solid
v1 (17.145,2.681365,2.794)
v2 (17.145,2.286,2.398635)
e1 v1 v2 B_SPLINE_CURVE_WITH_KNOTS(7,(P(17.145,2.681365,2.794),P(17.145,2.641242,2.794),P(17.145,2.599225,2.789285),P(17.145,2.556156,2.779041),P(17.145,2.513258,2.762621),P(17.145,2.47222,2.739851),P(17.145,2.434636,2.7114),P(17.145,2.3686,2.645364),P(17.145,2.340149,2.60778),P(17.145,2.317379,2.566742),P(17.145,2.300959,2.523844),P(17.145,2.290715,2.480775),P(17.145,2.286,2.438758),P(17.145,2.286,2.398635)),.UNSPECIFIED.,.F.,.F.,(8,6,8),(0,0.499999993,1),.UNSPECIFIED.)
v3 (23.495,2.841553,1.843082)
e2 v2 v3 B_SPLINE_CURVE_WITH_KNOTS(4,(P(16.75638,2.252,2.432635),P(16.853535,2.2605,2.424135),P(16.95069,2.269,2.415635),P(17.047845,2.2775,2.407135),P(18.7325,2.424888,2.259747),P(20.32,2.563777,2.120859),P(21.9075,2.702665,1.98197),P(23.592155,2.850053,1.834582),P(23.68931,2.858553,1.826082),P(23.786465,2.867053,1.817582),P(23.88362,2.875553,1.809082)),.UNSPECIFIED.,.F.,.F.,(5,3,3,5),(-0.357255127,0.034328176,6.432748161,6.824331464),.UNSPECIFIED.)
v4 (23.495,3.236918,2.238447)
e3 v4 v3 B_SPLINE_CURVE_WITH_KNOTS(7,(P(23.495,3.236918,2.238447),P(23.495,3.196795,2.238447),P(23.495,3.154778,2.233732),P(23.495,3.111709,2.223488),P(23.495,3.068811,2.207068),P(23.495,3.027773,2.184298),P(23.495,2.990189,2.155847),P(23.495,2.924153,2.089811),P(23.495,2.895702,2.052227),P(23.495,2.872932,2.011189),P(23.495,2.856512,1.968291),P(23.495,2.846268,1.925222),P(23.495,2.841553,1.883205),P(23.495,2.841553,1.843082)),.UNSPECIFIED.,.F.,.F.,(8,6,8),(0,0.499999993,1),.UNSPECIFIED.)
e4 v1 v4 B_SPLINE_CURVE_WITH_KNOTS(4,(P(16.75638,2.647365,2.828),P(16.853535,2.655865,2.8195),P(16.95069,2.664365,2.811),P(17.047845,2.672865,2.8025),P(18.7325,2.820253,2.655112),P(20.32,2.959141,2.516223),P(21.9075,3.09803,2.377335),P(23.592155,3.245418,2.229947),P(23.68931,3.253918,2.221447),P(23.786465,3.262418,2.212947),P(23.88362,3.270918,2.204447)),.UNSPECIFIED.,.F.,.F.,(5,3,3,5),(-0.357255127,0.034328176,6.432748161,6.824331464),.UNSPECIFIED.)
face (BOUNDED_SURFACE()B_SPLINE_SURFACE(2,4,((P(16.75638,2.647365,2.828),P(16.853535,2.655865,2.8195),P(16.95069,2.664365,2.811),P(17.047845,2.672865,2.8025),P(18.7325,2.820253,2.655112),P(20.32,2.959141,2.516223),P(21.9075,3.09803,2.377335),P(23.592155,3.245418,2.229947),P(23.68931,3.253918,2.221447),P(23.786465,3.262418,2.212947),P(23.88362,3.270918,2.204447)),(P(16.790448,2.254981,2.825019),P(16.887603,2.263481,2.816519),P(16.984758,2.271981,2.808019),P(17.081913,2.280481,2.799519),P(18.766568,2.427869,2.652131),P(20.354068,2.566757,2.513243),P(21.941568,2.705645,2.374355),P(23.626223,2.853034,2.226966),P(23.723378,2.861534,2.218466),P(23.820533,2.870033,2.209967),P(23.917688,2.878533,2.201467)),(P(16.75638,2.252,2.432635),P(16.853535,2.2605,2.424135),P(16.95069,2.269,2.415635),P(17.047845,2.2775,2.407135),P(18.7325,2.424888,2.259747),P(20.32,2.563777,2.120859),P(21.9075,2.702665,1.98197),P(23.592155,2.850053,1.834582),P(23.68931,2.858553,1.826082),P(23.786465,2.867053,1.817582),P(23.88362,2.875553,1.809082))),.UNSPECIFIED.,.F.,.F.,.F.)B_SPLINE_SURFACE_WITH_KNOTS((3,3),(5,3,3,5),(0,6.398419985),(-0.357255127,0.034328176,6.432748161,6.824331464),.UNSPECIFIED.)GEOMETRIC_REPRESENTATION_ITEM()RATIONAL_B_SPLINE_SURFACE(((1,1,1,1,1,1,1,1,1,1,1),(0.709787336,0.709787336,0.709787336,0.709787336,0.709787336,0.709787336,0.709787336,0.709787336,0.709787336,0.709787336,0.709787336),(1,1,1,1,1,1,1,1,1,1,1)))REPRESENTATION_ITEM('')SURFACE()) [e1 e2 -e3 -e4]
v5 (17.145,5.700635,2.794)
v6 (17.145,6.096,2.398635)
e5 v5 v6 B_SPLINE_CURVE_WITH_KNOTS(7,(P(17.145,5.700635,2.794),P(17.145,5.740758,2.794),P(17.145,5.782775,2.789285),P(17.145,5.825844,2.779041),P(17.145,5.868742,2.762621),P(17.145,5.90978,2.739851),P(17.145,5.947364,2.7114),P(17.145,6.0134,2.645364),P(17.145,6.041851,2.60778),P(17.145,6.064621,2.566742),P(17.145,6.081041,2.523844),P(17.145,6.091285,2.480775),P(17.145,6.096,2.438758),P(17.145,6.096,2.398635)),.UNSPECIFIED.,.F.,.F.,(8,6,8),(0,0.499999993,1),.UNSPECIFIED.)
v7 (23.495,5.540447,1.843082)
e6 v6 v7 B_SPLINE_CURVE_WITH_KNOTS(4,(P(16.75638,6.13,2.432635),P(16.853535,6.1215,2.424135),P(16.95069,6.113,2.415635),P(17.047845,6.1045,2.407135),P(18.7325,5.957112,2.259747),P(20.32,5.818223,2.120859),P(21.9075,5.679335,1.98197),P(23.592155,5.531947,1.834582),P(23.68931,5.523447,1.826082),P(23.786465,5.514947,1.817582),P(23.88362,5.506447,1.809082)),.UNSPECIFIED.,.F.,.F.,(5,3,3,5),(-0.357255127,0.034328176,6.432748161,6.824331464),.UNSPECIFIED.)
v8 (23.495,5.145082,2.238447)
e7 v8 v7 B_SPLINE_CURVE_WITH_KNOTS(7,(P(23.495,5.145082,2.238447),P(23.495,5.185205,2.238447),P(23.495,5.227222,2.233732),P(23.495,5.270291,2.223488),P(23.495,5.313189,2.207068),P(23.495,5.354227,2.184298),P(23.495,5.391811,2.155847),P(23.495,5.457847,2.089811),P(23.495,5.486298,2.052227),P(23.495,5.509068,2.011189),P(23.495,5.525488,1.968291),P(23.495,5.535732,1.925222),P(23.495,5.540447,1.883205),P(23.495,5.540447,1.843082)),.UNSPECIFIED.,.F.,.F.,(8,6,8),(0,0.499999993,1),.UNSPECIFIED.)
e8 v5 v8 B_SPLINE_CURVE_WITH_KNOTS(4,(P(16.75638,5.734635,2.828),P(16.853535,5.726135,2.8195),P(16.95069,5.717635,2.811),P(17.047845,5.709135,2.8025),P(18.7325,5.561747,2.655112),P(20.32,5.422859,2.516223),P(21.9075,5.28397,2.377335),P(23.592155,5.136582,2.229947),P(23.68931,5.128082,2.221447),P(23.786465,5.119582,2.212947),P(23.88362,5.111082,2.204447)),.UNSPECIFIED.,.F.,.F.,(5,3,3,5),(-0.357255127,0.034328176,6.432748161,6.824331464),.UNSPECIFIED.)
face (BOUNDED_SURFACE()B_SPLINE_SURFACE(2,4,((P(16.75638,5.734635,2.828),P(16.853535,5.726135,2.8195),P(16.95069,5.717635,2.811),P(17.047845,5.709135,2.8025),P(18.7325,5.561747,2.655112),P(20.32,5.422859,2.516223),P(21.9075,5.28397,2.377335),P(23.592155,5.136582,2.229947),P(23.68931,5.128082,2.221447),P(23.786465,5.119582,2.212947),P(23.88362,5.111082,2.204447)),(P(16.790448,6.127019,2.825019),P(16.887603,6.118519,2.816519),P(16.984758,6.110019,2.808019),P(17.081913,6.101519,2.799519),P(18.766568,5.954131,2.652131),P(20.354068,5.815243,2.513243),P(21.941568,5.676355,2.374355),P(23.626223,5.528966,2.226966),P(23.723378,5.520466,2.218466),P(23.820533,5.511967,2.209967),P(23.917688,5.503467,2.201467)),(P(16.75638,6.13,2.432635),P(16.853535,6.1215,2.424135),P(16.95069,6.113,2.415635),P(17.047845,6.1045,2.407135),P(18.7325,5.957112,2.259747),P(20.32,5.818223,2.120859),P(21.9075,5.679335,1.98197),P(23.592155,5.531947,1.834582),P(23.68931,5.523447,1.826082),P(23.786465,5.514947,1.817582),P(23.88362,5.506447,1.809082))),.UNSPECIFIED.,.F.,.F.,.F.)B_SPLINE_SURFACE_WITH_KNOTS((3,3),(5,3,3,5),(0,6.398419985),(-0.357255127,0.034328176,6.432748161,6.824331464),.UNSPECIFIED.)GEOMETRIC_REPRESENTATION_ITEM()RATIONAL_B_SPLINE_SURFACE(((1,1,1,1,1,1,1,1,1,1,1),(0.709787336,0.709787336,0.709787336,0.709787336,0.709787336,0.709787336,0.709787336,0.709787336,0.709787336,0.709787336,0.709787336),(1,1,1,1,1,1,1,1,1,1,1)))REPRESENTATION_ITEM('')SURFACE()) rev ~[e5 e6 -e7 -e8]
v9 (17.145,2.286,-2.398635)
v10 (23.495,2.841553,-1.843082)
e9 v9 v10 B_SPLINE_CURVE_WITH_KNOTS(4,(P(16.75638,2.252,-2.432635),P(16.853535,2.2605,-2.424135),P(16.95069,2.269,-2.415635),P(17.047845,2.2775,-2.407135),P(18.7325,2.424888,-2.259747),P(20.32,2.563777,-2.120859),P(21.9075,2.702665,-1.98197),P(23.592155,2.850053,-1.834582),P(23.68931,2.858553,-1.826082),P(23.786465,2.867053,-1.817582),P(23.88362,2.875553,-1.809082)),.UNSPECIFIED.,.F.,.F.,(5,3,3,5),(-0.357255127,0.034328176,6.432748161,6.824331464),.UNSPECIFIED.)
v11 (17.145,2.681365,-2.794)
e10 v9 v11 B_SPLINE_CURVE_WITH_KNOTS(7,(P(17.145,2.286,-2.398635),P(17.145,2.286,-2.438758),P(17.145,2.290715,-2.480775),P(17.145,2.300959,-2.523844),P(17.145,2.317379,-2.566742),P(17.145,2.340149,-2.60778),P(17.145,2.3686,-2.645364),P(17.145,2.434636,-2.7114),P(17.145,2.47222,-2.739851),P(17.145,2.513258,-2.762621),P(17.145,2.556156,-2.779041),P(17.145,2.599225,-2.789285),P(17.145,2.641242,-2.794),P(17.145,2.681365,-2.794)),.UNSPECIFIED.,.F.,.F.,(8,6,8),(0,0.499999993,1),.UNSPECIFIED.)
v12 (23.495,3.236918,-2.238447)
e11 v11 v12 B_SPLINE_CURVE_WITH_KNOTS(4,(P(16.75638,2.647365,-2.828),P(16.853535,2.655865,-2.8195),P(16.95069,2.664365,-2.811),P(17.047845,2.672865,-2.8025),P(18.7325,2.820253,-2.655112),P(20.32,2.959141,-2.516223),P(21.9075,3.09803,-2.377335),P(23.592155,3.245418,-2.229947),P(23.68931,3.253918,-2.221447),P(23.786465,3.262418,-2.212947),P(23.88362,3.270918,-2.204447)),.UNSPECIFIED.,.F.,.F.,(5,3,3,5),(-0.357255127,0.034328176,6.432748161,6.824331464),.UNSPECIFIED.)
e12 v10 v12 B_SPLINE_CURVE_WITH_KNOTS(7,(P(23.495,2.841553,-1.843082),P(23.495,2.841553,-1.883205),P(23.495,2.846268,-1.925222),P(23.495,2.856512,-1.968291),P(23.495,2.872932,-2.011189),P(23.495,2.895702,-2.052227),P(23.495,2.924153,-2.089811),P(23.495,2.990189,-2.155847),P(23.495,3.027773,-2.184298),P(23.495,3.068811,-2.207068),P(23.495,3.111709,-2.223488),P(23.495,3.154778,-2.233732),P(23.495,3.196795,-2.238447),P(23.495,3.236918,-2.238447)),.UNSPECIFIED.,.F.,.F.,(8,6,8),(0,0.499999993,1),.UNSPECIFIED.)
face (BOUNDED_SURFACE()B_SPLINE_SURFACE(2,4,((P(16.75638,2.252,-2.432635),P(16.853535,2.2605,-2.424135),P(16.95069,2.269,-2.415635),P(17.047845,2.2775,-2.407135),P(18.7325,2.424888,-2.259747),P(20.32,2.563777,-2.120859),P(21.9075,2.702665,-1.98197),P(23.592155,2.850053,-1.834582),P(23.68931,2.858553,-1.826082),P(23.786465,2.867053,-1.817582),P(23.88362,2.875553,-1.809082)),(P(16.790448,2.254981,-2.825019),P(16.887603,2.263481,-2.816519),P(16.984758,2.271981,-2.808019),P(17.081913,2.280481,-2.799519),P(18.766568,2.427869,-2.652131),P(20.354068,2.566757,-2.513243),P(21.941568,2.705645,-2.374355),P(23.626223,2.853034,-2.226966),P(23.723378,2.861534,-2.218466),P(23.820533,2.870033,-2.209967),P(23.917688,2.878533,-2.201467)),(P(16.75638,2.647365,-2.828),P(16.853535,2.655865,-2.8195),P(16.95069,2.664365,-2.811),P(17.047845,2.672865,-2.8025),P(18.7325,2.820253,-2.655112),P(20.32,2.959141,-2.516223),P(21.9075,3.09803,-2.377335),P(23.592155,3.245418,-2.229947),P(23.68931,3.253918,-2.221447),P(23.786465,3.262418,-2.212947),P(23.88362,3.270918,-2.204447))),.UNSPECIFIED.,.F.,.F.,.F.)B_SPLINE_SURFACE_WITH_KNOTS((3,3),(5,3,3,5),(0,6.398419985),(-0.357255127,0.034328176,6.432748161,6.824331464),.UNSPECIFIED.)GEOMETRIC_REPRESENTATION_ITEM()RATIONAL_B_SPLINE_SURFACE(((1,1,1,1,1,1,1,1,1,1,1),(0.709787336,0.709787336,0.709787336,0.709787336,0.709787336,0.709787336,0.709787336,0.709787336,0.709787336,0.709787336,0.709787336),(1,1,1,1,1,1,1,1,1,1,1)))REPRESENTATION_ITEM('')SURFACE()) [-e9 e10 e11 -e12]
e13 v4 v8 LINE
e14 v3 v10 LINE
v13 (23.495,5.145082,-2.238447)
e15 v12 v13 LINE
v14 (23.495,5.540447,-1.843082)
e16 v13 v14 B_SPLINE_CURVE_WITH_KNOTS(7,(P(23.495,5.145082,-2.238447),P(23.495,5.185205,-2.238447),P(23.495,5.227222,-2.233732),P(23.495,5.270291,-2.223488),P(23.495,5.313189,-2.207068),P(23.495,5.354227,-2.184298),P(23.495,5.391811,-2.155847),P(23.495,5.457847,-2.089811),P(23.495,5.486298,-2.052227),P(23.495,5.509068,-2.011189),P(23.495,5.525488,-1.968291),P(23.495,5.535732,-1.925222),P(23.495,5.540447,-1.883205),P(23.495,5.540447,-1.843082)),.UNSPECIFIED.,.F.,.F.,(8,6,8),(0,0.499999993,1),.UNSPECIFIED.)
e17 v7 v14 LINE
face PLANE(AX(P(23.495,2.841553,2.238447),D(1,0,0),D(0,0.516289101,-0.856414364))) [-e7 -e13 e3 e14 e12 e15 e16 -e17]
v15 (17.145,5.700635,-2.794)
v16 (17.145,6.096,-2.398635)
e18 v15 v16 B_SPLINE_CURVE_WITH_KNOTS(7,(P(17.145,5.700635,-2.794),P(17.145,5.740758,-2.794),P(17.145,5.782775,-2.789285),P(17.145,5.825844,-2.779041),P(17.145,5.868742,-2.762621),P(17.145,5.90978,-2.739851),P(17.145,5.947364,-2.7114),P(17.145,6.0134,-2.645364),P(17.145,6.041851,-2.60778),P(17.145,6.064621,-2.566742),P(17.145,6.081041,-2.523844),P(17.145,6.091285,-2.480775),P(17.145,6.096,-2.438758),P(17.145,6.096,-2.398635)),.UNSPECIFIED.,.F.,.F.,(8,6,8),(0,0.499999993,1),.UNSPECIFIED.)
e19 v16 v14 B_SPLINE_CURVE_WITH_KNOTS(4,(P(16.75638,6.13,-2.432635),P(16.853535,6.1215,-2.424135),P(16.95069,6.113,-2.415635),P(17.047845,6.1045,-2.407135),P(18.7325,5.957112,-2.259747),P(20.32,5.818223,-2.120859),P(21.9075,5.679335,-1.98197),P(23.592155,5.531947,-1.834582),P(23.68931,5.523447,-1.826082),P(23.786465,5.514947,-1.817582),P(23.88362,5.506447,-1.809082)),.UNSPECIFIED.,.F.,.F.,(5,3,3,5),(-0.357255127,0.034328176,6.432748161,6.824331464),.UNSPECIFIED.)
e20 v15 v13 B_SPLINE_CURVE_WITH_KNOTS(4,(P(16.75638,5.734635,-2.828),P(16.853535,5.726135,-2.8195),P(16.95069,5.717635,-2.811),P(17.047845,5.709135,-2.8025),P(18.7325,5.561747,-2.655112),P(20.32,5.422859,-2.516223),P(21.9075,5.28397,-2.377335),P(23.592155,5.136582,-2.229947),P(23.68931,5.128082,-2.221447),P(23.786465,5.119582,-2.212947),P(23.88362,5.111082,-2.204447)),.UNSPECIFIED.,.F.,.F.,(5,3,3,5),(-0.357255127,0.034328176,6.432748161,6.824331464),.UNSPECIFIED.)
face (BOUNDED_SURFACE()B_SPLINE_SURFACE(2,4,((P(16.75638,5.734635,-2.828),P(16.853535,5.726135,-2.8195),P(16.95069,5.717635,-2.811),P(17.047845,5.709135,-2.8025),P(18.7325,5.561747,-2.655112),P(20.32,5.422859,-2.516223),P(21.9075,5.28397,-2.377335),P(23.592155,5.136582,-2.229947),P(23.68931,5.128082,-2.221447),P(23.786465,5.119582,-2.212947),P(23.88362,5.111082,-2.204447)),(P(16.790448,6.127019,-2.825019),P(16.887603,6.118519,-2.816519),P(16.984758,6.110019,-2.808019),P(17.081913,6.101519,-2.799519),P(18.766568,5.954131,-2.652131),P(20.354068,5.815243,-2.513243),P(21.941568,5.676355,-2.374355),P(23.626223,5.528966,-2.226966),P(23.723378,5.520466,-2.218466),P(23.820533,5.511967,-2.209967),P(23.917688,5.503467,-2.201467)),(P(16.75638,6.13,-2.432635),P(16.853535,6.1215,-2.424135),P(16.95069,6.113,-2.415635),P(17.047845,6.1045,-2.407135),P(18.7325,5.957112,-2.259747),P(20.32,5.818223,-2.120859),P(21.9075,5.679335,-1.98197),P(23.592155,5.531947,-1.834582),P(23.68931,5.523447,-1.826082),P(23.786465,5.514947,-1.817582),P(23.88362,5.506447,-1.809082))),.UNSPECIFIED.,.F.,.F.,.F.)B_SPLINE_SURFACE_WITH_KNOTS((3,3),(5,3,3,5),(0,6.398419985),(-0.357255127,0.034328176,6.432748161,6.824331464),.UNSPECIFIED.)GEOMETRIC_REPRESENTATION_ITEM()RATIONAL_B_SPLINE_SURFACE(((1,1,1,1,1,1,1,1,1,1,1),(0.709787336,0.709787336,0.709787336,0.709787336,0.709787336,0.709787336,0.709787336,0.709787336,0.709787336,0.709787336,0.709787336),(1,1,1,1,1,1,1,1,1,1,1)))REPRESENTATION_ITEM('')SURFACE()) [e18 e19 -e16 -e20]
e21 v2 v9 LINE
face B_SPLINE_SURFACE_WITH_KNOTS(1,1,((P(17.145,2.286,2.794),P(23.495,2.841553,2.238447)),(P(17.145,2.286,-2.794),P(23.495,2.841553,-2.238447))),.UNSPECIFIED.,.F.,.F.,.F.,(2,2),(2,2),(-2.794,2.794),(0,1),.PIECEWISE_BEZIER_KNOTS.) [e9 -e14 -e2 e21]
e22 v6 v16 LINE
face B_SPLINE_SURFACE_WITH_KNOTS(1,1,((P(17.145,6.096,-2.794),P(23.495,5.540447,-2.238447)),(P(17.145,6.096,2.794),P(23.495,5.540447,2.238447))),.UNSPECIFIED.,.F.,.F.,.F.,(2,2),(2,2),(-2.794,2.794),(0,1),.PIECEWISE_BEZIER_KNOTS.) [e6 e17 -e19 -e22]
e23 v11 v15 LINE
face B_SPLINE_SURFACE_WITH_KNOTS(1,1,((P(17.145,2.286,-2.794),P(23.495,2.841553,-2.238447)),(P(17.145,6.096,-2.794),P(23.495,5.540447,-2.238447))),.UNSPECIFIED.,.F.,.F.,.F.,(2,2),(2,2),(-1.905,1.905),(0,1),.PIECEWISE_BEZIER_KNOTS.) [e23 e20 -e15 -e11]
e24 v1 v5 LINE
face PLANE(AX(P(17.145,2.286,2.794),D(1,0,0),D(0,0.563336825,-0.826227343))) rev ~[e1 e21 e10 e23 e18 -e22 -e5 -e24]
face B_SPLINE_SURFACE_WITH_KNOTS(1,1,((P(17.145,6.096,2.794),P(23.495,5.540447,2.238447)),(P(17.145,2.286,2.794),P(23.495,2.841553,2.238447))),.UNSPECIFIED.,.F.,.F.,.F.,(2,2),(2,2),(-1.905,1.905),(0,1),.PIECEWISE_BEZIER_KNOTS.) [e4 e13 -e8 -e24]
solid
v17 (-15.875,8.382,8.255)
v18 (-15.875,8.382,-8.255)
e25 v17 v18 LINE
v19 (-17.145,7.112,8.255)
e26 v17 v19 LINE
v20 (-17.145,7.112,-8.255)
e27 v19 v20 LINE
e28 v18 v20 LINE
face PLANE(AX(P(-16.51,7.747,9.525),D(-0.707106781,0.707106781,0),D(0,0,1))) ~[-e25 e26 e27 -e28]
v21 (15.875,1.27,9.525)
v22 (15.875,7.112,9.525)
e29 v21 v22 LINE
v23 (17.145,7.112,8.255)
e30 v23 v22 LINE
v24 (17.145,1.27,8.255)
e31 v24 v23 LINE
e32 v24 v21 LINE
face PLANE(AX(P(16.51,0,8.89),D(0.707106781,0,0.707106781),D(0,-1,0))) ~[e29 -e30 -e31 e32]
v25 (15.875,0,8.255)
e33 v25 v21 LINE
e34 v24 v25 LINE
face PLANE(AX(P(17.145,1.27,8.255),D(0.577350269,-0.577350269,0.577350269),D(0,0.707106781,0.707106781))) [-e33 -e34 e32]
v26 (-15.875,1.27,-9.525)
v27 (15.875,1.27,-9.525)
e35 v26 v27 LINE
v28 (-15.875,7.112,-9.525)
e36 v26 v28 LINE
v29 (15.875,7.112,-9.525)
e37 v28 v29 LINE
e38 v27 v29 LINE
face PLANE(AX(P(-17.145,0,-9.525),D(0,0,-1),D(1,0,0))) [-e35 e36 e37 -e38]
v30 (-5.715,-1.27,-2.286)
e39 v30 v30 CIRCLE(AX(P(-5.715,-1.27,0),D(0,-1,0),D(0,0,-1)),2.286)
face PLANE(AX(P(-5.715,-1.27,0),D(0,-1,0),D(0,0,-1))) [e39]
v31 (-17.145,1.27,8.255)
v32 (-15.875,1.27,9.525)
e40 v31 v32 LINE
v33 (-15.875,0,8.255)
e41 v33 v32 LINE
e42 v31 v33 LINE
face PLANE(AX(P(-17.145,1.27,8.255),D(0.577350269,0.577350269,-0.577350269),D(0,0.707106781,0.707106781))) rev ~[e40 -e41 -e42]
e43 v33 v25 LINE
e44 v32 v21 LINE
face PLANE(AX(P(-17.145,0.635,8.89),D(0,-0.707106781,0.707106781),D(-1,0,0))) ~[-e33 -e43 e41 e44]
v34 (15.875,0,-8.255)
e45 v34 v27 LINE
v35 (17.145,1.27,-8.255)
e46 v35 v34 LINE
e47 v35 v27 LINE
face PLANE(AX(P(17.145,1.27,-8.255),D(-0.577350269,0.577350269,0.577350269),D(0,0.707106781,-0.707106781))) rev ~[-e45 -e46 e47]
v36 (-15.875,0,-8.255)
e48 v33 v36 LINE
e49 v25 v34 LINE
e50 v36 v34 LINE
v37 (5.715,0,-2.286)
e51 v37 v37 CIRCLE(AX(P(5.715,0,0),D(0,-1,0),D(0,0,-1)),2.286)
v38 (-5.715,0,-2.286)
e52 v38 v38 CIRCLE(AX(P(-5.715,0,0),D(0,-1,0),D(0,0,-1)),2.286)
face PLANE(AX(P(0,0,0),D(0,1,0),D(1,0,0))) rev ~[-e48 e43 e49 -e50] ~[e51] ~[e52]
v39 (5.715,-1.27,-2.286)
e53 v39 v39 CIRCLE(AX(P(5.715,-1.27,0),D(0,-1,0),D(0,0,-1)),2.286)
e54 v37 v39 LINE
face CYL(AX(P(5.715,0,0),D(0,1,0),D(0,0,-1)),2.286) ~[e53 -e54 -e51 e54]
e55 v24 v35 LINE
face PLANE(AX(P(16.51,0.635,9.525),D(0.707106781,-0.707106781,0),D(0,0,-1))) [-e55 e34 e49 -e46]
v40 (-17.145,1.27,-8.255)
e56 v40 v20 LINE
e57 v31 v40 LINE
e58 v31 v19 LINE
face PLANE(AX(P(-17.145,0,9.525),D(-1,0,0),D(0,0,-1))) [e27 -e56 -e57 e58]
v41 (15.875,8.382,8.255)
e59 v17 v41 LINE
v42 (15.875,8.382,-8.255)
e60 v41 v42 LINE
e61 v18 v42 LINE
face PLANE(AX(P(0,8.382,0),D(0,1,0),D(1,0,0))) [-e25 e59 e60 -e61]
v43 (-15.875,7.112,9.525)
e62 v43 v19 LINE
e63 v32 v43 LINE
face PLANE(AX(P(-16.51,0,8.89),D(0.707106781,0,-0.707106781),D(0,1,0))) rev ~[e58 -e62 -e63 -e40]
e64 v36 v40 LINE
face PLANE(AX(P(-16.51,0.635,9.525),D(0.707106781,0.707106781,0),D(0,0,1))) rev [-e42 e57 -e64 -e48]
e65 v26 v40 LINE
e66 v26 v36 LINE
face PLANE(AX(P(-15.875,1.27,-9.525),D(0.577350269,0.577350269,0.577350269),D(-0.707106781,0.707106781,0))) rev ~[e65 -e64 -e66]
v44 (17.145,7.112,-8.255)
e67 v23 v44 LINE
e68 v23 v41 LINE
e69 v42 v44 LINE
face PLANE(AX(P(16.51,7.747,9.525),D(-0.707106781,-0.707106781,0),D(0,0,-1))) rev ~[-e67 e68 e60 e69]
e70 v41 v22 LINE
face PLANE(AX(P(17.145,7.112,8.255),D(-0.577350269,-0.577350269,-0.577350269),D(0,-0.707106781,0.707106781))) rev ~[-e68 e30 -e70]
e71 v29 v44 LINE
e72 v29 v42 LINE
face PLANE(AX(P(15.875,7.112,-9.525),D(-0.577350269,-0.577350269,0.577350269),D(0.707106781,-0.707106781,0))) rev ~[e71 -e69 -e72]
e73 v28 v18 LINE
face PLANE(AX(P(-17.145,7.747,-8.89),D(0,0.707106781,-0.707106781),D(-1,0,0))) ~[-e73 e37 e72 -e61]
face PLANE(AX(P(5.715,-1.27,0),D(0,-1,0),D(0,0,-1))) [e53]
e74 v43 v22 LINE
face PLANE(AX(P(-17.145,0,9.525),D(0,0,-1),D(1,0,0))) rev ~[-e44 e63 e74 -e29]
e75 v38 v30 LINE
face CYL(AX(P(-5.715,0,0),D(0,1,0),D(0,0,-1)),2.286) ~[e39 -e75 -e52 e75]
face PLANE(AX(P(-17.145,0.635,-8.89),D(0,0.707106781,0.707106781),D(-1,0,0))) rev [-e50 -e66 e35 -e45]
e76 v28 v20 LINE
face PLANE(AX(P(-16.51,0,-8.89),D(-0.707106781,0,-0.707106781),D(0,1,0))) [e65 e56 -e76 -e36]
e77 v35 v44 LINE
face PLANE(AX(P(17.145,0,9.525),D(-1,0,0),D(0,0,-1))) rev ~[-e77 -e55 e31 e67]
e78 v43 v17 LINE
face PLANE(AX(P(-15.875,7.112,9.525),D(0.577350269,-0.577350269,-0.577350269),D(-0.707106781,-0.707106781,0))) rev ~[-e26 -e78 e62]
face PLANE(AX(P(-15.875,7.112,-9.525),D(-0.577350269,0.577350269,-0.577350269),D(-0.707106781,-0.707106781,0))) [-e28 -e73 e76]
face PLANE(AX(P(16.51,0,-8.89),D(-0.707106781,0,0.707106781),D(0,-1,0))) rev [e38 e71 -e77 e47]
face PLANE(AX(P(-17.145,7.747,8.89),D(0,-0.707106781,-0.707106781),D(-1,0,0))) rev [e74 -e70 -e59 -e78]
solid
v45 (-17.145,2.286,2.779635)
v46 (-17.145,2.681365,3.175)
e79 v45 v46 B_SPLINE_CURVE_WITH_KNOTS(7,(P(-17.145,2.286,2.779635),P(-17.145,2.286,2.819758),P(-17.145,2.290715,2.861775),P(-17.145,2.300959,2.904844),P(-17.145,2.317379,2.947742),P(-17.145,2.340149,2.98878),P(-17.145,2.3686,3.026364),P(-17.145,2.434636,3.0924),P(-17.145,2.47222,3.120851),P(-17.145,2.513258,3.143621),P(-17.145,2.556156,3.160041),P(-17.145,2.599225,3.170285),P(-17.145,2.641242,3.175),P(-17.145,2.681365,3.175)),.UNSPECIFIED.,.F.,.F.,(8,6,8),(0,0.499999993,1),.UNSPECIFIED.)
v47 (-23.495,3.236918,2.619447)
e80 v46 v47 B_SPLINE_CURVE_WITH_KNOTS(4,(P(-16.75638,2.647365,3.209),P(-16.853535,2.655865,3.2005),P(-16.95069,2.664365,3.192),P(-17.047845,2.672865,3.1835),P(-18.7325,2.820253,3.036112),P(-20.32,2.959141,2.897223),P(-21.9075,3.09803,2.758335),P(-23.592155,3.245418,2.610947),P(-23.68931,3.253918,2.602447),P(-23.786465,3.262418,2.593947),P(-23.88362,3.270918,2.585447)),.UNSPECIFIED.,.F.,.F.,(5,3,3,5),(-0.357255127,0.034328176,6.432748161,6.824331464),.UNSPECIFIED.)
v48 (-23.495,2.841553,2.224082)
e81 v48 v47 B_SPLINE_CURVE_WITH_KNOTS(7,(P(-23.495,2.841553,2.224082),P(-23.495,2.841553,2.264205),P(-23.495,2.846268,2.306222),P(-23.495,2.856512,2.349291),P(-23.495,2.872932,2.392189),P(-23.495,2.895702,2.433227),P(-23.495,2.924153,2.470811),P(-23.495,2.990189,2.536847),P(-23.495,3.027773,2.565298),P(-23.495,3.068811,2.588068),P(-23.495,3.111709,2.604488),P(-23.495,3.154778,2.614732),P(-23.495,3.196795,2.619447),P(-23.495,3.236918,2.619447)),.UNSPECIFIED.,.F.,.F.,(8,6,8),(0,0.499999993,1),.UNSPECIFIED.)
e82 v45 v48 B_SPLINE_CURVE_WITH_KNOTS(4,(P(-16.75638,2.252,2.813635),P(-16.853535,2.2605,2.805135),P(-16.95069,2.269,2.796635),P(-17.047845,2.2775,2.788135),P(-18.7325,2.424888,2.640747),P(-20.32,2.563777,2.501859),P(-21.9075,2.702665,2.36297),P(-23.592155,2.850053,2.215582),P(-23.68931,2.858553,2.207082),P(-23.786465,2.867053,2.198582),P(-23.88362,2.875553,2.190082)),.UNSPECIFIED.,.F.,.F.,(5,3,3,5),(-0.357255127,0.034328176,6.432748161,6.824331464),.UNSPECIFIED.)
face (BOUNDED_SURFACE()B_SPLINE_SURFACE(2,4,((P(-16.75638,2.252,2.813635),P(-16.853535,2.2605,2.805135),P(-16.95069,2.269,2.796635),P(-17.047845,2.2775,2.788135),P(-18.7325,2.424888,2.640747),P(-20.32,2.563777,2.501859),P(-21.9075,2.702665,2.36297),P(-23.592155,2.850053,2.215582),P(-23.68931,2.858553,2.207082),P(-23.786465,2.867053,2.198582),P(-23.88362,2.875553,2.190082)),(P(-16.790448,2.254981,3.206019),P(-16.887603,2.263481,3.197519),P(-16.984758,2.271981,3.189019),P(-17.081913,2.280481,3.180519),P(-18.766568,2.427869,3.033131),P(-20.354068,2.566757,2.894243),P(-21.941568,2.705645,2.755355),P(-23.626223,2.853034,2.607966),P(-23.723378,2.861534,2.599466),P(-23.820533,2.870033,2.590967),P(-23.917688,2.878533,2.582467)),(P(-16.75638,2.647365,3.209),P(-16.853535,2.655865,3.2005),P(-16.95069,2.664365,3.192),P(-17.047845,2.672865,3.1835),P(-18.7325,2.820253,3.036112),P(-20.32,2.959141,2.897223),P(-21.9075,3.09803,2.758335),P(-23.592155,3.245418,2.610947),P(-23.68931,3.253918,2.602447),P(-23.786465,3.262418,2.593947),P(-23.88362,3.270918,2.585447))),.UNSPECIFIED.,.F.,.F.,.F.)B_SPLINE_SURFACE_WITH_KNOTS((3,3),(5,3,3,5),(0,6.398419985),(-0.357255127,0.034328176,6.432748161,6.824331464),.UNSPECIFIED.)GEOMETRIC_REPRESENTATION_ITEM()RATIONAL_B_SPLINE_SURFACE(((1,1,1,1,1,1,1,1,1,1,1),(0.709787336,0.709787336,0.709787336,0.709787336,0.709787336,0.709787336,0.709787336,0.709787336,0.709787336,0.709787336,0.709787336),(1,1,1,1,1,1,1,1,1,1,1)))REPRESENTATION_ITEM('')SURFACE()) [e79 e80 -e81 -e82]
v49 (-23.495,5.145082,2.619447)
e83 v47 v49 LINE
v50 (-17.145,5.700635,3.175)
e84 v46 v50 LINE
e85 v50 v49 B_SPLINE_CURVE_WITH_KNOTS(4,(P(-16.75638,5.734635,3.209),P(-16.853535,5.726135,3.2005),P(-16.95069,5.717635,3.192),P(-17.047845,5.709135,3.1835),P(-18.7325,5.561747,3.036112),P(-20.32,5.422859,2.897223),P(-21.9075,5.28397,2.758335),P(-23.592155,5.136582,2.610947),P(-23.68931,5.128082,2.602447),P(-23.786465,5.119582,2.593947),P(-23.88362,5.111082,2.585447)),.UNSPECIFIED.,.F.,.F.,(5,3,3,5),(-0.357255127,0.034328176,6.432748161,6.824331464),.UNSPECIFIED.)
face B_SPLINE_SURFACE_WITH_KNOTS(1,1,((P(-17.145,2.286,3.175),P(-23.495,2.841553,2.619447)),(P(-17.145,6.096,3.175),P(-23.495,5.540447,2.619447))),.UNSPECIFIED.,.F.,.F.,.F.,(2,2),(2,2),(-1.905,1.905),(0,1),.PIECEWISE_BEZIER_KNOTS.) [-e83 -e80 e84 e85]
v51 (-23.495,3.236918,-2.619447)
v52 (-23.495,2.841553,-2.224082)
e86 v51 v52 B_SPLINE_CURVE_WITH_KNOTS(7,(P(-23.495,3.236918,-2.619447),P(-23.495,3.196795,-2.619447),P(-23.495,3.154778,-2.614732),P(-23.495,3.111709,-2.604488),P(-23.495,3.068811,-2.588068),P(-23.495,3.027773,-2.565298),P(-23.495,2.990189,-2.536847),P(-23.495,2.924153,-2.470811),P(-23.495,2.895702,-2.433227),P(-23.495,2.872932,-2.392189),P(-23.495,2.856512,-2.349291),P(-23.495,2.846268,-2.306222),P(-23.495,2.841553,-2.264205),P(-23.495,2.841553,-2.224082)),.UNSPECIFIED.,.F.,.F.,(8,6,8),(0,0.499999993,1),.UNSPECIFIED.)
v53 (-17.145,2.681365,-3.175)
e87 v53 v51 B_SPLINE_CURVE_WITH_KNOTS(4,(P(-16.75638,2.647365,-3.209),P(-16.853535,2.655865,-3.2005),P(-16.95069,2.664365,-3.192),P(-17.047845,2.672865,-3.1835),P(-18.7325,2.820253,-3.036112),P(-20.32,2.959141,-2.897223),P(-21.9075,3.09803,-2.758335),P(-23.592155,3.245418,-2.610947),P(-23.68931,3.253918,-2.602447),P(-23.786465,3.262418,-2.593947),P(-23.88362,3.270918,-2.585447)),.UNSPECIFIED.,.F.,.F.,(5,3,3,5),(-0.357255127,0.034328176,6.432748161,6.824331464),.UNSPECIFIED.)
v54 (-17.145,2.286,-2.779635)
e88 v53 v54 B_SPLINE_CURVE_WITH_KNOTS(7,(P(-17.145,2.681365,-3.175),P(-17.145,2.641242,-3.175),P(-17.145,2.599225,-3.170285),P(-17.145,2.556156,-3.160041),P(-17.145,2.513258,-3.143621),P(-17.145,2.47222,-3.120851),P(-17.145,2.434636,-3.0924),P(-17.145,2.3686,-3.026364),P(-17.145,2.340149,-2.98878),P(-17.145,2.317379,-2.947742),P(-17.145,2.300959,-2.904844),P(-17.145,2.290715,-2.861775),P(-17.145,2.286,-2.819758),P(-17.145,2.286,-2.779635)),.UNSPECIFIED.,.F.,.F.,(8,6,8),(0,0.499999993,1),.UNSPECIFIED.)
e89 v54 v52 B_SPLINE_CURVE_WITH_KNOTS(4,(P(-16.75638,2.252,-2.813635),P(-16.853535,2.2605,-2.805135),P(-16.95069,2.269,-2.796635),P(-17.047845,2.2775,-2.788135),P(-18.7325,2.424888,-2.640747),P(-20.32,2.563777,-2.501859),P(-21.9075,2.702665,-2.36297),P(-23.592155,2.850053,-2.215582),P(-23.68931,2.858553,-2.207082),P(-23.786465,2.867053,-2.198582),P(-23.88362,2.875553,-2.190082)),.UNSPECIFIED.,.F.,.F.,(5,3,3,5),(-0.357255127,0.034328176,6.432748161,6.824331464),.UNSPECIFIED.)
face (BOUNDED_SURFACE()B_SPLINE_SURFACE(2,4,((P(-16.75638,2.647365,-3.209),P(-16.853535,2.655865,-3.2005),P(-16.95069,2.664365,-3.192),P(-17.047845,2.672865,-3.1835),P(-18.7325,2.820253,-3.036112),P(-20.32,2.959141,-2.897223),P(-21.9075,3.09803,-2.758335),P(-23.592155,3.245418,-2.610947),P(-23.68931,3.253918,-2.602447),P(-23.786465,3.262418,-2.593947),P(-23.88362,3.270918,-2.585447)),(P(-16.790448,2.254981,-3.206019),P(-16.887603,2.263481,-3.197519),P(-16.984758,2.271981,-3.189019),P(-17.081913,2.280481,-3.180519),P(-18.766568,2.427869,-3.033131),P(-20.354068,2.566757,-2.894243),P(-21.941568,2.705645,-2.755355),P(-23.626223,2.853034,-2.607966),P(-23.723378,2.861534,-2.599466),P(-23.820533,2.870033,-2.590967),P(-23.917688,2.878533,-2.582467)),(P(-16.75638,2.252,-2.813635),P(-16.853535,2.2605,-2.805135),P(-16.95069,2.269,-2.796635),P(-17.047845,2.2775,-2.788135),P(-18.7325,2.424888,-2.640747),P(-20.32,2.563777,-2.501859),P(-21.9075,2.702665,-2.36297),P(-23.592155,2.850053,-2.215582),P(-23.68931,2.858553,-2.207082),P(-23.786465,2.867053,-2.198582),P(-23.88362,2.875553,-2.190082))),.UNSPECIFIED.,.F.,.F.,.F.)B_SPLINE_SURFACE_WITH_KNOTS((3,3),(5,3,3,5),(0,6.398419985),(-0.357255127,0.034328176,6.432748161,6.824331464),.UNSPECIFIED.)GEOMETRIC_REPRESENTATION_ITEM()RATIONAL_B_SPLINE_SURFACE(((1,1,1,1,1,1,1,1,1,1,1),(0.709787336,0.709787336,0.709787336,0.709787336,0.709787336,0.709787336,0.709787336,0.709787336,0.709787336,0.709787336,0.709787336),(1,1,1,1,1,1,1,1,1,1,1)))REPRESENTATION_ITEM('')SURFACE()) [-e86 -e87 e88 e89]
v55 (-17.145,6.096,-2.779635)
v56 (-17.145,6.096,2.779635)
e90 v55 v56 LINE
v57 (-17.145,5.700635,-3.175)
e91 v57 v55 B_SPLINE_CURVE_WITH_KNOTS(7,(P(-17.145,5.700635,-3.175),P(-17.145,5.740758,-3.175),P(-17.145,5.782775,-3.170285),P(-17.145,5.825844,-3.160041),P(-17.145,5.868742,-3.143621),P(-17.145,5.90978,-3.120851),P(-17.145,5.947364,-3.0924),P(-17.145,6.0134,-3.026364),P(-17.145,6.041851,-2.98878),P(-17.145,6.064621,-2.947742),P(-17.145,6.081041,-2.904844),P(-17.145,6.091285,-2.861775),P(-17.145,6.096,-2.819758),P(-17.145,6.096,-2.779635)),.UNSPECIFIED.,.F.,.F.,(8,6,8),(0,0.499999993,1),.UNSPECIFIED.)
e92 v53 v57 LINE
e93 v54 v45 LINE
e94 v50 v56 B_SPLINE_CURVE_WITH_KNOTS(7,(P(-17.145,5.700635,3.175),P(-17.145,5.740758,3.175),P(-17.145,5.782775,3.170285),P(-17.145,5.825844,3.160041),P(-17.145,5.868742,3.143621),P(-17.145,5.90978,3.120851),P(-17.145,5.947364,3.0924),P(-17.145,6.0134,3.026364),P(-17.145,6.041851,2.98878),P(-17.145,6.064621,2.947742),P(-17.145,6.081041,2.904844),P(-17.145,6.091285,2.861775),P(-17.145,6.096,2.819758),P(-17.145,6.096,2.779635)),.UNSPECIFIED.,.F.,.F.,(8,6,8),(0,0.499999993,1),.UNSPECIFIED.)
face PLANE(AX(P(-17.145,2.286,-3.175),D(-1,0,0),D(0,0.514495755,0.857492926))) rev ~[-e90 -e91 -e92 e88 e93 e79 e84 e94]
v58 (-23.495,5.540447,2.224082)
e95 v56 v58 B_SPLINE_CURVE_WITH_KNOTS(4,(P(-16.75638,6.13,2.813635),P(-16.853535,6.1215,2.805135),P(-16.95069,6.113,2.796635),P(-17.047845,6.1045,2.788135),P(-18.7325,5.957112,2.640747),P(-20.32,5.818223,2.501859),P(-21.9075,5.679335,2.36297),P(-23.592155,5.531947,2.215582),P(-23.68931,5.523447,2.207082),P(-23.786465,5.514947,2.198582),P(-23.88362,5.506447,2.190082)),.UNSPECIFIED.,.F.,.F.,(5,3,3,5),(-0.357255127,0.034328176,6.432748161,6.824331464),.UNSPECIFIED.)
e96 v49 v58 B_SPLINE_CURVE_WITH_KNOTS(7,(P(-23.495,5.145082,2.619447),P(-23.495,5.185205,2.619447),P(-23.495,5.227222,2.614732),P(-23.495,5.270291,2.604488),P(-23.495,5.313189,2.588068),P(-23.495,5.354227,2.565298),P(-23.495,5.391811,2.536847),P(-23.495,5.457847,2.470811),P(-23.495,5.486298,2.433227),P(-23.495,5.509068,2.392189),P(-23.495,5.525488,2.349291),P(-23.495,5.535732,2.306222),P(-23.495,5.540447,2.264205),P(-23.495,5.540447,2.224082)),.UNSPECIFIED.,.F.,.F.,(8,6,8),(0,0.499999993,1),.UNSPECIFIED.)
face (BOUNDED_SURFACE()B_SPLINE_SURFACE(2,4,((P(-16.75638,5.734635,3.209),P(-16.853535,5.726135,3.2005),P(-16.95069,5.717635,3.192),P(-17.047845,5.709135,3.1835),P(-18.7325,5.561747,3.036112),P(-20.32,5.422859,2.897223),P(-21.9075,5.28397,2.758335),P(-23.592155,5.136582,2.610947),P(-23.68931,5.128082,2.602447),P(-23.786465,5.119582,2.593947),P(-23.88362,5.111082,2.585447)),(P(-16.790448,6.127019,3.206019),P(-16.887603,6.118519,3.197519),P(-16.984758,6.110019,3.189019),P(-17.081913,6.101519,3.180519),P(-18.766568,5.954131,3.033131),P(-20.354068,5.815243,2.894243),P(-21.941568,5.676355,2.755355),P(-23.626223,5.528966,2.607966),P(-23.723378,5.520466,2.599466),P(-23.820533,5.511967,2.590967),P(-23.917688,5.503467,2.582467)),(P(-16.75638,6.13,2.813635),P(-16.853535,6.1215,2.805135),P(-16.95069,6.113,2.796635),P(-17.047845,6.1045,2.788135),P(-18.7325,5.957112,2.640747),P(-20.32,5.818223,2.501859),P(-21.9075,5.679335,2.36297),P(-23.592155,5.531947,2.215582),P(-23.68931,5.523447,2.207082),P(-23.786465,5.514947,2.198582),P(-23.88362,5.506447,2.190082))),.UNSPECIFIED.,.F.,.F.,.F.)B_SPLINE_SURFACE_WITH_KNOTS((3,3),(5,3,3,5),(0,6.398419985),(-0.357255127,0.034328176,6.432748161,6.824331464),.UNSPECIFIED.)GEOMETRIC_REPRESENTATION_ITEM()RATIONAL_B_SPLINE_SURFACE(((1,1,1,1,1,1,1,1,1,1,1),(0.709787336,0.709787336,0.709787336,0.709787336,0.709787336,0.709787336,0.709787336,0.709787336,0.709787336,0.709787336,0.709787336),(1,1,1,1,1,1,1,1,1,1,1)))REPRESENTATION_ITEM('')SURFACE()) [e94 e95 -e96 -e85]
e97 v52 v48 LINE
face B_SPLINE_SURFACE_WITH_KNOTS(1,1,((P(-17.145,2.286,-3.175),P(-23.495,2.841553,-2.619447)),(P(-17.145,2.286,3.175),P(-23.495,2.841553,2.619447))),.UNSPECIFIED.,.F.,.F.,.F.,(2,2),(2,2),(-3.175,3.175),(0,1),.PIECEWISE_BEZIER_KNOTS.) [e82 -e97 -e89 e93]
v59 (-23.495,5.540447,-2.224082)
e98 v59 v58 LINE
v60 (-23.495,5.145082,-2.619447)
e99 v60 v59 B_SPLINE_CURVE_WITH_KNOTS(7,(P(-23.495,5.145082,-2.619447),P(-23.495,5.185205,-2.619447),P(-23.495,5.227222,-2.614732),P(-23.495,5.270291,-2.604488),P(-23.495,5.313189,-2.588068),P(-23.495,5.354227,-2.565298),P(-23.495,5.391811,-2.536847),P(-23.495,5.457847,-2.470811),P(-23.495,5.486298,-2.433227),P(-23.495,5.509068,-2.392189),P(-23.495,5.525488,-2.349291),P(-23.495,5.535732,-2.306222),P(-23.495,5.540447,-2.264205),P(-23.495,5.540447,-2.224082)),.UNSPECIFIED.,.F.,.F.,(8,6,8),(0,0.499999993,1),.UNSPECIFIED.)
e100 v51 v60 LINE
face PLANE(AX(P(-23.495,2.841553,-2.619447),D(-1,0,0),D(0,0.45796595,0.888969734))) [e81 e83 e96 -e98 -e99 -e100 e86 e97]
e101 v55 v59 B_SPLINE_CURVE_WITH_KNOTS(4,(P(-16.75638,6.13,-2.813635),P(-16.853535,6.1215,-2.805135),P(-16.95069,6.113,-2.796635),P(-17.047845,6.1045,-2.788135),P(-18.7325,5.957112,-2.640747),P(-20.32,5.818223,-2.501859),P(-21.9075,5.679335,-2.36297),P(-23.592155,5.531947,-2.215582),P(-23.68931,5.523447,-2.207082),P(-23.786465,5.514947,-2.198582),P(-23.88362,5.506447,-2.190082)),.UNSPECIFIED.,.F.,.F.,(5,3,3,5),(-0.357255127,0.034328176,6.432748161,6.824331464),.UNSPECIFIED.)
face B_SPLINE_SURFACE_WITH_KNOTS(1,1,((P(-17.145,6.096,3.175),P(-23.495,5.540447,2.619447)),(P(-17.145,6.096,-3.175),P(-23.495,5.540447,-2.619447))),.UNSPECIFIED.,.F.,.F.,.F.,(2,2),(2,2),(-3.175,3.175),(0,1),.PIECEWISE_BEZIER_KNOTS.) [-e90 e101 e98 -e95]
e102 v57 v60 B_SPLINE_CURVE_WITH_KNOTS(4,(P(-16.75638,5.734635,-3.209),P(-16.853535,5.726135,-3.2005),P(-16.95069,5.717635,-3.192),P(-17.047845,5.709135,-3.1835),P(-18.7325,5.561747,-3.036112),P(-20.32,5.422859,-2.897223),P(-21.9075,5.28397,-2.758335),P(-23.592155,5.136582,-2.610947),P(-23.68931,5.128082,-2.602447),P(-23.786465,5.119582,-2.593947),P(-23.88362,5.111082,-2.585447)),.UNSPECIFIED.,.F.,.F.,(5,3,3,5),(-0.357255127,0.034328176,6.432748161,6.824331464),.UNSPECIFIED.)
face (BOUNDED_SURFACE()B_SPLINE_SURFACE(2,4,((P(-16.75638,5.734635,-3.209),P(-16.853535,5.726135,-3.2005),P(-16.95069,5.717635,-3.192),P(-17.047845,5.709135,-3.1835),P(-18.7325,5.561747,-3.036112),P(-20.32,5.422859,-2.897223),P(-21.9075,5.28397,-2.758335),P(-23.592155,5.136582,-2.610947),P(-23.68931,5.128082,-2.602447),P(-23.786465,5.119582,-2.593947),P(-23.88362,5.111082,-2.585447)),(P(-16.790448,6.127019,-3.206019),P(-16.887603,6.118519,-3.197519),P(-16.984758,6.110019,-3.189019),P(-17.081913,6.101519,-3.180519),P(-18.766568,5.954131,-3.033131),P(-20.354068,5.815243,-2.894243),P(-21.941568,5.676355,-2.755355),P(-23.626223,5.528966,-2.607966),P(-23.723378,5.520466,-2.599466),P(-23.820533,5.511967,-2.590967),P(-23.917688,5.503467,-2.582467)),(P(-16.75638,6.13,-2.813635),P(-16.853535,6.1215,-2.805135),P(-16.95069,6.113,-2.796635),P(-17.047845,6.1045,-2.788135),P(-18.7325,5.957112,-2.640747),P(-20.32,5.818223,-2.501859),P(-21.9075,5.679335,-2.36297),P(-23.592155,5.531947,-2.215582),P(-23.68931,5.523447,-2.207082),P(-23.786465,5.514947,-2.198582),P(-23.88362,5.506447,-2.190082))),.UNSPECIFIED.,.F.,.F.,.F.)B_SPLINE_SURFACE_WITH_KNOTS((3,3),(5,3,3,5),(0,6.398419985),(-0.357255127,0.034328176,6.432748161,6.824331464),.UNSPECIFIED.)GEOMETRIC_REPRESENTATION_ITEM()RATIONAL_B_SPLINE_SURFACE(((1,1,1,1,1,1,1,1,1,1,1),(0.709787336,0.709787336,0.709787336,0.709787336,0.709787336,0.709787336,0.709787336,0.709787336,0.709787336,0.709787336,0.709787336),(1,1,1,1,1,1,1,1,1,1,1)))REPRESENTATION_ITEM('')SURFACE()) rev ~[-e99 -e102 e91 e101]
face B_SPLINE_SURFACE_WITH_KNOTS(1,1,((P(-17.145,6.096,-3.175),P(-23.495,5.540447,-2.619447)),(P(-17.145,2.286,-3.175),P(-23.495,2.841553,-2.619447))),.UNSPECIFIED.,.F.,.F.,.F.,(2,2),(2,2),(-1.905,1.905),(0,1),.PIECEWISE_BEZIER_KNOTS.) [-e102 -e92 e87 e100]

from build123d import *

# Parameters (mm, degrees)
SKETCH1_W           = 34.29
SKETCH1_H           = 19.05
BOSS_EXTRUDE1_DEPTH = 8.382
SKETCH2_R           = 2.286
BOSS_EXTRUDE2_DEPTH = 1.27
SKETCH3_W           = 6.35
SKETCH3_H           = 3.81
BOSS_EXTRUDE3_DEPTH = 6.35
BOSS_EXTRUDE3_TAPER = 5
SKETCH4_W           = 5.588
SKETCH4_H           = 3.81
BOSS_EXTRUDE4_DEPTH = 6.35
BOSS_EXTRUDE4_TAPER = 5
CHAMFER1_SIZE       = 1.27
FILLET1_R           = 0.396875
FILLET2_R           = 0.396875


with BuildPart() as part:
    # Sketch1 → Boss-Extrude1 (new body)
    with BuildSketch(Plane(origin=(0, 0, 0), x_dir=(1, 0, 0), z_dir=(0, 1, 0))):
        Rectangle(SKETCH1_W, SKETCH1_H)
    extrude(amount=BOSS_EXTRUDE1_DEPTH)

    # Sketch2 → Boss-Extrude2 (add)
    with BuildSketch(Plane(origin=(0, 0, 0), x_dir=(-1, 0, 0), z_dir=(0, -1, 0))):
        with Locations(Location((5.715, 0, 0), (0, 0, 90))):
            Circle(SKETCH2_R)
        with Locations(Location((-5.715, 0, 0), (0, 0, 90))):
            Circle(SKETCH2_R)
    extrude(amount=BOSS_EXTRUDE2_DEPTH)

    # Chamfer1
    chamfer1_edges = [part.edges().sort_by_distance(p)[0] for p in [
        (-17.145, 8.382, 0),
        (0, 8.382, 9.525),
        (17.145, 8.382, 0),
        (0, 0, 9.525),
        (-17.145, 0, 0),
        (0, 0, -9.525),
        (17.145, 0, 0),
        (0, 8.382, -9.525),
        (17.145, 4.191, 9.525),
        (-17.145, 4.191, 9.525),
        (-17.145, 4.191, -9.525),
        (17.145, 4.191, -9.525),
    ]]
    chamfer(chamfer1_edges, length=CHAMFER1_SIZE)


with BuildPart() as body_2:
    # Sketch3 → Boss-Extrude3 (new body)
    with BuildSketch(Plane.ZY.offset(17.145)):
        with Locations((0, 4.191)):
            Rectangle(SKETCH3_W, SKETCH3_H)
    extrude(amount=BOSS_EXTRUDE3_DEPTH, taper=BOSS_EXTRUDE3_TAPER)

    # Fillet2
    fillet2_edges = [body_2.edges().sort_by_distance(p)[0] for p in [
        (-20.32, 2.563776507, 2.897223493),
        (-20.32, 2.563776507, -2.897223493),
        (-20.32, 5.818223493, -2.897223493),
        (-20.32, 5.818223493, 2.897223493),
    ]]
    fillet(fillet2_edges, radius=FILLET2_R)


with BuildPart() as body_3:
    # Sketch4 → Boss-Extrude4 (new body)
    with BuildSketch(Plane(origin=(17.145, 0, 0), x_dir=(0, 0, -1), z_dir=(1, 0, 0))):
        with Locations((0, 4.191)):
            Rectangle(SKETCH4_W, SKETCH4_H)
    extrude(amount=BOSS_EXTRUDE4_DEPTH, taper=BOSS_EXTRUDE4_TAPER)

    # Fillet1
    fillet1_edges = [body_3.edges().sort_by_distance(p)[0] for p in [
        (20.32, 2.563776507, -2.516223493),
        (20.32, 2.563776507, 2.516223493),
        (20.32, 5.818223493, 2.516223493),
        (20.32, 5.818223493, -2.516223493),
    ]]
    fillet(fillet1_edges, radius=FILLET1_R)


solid = Compound([part.part, body_2.part, body_3.part])
